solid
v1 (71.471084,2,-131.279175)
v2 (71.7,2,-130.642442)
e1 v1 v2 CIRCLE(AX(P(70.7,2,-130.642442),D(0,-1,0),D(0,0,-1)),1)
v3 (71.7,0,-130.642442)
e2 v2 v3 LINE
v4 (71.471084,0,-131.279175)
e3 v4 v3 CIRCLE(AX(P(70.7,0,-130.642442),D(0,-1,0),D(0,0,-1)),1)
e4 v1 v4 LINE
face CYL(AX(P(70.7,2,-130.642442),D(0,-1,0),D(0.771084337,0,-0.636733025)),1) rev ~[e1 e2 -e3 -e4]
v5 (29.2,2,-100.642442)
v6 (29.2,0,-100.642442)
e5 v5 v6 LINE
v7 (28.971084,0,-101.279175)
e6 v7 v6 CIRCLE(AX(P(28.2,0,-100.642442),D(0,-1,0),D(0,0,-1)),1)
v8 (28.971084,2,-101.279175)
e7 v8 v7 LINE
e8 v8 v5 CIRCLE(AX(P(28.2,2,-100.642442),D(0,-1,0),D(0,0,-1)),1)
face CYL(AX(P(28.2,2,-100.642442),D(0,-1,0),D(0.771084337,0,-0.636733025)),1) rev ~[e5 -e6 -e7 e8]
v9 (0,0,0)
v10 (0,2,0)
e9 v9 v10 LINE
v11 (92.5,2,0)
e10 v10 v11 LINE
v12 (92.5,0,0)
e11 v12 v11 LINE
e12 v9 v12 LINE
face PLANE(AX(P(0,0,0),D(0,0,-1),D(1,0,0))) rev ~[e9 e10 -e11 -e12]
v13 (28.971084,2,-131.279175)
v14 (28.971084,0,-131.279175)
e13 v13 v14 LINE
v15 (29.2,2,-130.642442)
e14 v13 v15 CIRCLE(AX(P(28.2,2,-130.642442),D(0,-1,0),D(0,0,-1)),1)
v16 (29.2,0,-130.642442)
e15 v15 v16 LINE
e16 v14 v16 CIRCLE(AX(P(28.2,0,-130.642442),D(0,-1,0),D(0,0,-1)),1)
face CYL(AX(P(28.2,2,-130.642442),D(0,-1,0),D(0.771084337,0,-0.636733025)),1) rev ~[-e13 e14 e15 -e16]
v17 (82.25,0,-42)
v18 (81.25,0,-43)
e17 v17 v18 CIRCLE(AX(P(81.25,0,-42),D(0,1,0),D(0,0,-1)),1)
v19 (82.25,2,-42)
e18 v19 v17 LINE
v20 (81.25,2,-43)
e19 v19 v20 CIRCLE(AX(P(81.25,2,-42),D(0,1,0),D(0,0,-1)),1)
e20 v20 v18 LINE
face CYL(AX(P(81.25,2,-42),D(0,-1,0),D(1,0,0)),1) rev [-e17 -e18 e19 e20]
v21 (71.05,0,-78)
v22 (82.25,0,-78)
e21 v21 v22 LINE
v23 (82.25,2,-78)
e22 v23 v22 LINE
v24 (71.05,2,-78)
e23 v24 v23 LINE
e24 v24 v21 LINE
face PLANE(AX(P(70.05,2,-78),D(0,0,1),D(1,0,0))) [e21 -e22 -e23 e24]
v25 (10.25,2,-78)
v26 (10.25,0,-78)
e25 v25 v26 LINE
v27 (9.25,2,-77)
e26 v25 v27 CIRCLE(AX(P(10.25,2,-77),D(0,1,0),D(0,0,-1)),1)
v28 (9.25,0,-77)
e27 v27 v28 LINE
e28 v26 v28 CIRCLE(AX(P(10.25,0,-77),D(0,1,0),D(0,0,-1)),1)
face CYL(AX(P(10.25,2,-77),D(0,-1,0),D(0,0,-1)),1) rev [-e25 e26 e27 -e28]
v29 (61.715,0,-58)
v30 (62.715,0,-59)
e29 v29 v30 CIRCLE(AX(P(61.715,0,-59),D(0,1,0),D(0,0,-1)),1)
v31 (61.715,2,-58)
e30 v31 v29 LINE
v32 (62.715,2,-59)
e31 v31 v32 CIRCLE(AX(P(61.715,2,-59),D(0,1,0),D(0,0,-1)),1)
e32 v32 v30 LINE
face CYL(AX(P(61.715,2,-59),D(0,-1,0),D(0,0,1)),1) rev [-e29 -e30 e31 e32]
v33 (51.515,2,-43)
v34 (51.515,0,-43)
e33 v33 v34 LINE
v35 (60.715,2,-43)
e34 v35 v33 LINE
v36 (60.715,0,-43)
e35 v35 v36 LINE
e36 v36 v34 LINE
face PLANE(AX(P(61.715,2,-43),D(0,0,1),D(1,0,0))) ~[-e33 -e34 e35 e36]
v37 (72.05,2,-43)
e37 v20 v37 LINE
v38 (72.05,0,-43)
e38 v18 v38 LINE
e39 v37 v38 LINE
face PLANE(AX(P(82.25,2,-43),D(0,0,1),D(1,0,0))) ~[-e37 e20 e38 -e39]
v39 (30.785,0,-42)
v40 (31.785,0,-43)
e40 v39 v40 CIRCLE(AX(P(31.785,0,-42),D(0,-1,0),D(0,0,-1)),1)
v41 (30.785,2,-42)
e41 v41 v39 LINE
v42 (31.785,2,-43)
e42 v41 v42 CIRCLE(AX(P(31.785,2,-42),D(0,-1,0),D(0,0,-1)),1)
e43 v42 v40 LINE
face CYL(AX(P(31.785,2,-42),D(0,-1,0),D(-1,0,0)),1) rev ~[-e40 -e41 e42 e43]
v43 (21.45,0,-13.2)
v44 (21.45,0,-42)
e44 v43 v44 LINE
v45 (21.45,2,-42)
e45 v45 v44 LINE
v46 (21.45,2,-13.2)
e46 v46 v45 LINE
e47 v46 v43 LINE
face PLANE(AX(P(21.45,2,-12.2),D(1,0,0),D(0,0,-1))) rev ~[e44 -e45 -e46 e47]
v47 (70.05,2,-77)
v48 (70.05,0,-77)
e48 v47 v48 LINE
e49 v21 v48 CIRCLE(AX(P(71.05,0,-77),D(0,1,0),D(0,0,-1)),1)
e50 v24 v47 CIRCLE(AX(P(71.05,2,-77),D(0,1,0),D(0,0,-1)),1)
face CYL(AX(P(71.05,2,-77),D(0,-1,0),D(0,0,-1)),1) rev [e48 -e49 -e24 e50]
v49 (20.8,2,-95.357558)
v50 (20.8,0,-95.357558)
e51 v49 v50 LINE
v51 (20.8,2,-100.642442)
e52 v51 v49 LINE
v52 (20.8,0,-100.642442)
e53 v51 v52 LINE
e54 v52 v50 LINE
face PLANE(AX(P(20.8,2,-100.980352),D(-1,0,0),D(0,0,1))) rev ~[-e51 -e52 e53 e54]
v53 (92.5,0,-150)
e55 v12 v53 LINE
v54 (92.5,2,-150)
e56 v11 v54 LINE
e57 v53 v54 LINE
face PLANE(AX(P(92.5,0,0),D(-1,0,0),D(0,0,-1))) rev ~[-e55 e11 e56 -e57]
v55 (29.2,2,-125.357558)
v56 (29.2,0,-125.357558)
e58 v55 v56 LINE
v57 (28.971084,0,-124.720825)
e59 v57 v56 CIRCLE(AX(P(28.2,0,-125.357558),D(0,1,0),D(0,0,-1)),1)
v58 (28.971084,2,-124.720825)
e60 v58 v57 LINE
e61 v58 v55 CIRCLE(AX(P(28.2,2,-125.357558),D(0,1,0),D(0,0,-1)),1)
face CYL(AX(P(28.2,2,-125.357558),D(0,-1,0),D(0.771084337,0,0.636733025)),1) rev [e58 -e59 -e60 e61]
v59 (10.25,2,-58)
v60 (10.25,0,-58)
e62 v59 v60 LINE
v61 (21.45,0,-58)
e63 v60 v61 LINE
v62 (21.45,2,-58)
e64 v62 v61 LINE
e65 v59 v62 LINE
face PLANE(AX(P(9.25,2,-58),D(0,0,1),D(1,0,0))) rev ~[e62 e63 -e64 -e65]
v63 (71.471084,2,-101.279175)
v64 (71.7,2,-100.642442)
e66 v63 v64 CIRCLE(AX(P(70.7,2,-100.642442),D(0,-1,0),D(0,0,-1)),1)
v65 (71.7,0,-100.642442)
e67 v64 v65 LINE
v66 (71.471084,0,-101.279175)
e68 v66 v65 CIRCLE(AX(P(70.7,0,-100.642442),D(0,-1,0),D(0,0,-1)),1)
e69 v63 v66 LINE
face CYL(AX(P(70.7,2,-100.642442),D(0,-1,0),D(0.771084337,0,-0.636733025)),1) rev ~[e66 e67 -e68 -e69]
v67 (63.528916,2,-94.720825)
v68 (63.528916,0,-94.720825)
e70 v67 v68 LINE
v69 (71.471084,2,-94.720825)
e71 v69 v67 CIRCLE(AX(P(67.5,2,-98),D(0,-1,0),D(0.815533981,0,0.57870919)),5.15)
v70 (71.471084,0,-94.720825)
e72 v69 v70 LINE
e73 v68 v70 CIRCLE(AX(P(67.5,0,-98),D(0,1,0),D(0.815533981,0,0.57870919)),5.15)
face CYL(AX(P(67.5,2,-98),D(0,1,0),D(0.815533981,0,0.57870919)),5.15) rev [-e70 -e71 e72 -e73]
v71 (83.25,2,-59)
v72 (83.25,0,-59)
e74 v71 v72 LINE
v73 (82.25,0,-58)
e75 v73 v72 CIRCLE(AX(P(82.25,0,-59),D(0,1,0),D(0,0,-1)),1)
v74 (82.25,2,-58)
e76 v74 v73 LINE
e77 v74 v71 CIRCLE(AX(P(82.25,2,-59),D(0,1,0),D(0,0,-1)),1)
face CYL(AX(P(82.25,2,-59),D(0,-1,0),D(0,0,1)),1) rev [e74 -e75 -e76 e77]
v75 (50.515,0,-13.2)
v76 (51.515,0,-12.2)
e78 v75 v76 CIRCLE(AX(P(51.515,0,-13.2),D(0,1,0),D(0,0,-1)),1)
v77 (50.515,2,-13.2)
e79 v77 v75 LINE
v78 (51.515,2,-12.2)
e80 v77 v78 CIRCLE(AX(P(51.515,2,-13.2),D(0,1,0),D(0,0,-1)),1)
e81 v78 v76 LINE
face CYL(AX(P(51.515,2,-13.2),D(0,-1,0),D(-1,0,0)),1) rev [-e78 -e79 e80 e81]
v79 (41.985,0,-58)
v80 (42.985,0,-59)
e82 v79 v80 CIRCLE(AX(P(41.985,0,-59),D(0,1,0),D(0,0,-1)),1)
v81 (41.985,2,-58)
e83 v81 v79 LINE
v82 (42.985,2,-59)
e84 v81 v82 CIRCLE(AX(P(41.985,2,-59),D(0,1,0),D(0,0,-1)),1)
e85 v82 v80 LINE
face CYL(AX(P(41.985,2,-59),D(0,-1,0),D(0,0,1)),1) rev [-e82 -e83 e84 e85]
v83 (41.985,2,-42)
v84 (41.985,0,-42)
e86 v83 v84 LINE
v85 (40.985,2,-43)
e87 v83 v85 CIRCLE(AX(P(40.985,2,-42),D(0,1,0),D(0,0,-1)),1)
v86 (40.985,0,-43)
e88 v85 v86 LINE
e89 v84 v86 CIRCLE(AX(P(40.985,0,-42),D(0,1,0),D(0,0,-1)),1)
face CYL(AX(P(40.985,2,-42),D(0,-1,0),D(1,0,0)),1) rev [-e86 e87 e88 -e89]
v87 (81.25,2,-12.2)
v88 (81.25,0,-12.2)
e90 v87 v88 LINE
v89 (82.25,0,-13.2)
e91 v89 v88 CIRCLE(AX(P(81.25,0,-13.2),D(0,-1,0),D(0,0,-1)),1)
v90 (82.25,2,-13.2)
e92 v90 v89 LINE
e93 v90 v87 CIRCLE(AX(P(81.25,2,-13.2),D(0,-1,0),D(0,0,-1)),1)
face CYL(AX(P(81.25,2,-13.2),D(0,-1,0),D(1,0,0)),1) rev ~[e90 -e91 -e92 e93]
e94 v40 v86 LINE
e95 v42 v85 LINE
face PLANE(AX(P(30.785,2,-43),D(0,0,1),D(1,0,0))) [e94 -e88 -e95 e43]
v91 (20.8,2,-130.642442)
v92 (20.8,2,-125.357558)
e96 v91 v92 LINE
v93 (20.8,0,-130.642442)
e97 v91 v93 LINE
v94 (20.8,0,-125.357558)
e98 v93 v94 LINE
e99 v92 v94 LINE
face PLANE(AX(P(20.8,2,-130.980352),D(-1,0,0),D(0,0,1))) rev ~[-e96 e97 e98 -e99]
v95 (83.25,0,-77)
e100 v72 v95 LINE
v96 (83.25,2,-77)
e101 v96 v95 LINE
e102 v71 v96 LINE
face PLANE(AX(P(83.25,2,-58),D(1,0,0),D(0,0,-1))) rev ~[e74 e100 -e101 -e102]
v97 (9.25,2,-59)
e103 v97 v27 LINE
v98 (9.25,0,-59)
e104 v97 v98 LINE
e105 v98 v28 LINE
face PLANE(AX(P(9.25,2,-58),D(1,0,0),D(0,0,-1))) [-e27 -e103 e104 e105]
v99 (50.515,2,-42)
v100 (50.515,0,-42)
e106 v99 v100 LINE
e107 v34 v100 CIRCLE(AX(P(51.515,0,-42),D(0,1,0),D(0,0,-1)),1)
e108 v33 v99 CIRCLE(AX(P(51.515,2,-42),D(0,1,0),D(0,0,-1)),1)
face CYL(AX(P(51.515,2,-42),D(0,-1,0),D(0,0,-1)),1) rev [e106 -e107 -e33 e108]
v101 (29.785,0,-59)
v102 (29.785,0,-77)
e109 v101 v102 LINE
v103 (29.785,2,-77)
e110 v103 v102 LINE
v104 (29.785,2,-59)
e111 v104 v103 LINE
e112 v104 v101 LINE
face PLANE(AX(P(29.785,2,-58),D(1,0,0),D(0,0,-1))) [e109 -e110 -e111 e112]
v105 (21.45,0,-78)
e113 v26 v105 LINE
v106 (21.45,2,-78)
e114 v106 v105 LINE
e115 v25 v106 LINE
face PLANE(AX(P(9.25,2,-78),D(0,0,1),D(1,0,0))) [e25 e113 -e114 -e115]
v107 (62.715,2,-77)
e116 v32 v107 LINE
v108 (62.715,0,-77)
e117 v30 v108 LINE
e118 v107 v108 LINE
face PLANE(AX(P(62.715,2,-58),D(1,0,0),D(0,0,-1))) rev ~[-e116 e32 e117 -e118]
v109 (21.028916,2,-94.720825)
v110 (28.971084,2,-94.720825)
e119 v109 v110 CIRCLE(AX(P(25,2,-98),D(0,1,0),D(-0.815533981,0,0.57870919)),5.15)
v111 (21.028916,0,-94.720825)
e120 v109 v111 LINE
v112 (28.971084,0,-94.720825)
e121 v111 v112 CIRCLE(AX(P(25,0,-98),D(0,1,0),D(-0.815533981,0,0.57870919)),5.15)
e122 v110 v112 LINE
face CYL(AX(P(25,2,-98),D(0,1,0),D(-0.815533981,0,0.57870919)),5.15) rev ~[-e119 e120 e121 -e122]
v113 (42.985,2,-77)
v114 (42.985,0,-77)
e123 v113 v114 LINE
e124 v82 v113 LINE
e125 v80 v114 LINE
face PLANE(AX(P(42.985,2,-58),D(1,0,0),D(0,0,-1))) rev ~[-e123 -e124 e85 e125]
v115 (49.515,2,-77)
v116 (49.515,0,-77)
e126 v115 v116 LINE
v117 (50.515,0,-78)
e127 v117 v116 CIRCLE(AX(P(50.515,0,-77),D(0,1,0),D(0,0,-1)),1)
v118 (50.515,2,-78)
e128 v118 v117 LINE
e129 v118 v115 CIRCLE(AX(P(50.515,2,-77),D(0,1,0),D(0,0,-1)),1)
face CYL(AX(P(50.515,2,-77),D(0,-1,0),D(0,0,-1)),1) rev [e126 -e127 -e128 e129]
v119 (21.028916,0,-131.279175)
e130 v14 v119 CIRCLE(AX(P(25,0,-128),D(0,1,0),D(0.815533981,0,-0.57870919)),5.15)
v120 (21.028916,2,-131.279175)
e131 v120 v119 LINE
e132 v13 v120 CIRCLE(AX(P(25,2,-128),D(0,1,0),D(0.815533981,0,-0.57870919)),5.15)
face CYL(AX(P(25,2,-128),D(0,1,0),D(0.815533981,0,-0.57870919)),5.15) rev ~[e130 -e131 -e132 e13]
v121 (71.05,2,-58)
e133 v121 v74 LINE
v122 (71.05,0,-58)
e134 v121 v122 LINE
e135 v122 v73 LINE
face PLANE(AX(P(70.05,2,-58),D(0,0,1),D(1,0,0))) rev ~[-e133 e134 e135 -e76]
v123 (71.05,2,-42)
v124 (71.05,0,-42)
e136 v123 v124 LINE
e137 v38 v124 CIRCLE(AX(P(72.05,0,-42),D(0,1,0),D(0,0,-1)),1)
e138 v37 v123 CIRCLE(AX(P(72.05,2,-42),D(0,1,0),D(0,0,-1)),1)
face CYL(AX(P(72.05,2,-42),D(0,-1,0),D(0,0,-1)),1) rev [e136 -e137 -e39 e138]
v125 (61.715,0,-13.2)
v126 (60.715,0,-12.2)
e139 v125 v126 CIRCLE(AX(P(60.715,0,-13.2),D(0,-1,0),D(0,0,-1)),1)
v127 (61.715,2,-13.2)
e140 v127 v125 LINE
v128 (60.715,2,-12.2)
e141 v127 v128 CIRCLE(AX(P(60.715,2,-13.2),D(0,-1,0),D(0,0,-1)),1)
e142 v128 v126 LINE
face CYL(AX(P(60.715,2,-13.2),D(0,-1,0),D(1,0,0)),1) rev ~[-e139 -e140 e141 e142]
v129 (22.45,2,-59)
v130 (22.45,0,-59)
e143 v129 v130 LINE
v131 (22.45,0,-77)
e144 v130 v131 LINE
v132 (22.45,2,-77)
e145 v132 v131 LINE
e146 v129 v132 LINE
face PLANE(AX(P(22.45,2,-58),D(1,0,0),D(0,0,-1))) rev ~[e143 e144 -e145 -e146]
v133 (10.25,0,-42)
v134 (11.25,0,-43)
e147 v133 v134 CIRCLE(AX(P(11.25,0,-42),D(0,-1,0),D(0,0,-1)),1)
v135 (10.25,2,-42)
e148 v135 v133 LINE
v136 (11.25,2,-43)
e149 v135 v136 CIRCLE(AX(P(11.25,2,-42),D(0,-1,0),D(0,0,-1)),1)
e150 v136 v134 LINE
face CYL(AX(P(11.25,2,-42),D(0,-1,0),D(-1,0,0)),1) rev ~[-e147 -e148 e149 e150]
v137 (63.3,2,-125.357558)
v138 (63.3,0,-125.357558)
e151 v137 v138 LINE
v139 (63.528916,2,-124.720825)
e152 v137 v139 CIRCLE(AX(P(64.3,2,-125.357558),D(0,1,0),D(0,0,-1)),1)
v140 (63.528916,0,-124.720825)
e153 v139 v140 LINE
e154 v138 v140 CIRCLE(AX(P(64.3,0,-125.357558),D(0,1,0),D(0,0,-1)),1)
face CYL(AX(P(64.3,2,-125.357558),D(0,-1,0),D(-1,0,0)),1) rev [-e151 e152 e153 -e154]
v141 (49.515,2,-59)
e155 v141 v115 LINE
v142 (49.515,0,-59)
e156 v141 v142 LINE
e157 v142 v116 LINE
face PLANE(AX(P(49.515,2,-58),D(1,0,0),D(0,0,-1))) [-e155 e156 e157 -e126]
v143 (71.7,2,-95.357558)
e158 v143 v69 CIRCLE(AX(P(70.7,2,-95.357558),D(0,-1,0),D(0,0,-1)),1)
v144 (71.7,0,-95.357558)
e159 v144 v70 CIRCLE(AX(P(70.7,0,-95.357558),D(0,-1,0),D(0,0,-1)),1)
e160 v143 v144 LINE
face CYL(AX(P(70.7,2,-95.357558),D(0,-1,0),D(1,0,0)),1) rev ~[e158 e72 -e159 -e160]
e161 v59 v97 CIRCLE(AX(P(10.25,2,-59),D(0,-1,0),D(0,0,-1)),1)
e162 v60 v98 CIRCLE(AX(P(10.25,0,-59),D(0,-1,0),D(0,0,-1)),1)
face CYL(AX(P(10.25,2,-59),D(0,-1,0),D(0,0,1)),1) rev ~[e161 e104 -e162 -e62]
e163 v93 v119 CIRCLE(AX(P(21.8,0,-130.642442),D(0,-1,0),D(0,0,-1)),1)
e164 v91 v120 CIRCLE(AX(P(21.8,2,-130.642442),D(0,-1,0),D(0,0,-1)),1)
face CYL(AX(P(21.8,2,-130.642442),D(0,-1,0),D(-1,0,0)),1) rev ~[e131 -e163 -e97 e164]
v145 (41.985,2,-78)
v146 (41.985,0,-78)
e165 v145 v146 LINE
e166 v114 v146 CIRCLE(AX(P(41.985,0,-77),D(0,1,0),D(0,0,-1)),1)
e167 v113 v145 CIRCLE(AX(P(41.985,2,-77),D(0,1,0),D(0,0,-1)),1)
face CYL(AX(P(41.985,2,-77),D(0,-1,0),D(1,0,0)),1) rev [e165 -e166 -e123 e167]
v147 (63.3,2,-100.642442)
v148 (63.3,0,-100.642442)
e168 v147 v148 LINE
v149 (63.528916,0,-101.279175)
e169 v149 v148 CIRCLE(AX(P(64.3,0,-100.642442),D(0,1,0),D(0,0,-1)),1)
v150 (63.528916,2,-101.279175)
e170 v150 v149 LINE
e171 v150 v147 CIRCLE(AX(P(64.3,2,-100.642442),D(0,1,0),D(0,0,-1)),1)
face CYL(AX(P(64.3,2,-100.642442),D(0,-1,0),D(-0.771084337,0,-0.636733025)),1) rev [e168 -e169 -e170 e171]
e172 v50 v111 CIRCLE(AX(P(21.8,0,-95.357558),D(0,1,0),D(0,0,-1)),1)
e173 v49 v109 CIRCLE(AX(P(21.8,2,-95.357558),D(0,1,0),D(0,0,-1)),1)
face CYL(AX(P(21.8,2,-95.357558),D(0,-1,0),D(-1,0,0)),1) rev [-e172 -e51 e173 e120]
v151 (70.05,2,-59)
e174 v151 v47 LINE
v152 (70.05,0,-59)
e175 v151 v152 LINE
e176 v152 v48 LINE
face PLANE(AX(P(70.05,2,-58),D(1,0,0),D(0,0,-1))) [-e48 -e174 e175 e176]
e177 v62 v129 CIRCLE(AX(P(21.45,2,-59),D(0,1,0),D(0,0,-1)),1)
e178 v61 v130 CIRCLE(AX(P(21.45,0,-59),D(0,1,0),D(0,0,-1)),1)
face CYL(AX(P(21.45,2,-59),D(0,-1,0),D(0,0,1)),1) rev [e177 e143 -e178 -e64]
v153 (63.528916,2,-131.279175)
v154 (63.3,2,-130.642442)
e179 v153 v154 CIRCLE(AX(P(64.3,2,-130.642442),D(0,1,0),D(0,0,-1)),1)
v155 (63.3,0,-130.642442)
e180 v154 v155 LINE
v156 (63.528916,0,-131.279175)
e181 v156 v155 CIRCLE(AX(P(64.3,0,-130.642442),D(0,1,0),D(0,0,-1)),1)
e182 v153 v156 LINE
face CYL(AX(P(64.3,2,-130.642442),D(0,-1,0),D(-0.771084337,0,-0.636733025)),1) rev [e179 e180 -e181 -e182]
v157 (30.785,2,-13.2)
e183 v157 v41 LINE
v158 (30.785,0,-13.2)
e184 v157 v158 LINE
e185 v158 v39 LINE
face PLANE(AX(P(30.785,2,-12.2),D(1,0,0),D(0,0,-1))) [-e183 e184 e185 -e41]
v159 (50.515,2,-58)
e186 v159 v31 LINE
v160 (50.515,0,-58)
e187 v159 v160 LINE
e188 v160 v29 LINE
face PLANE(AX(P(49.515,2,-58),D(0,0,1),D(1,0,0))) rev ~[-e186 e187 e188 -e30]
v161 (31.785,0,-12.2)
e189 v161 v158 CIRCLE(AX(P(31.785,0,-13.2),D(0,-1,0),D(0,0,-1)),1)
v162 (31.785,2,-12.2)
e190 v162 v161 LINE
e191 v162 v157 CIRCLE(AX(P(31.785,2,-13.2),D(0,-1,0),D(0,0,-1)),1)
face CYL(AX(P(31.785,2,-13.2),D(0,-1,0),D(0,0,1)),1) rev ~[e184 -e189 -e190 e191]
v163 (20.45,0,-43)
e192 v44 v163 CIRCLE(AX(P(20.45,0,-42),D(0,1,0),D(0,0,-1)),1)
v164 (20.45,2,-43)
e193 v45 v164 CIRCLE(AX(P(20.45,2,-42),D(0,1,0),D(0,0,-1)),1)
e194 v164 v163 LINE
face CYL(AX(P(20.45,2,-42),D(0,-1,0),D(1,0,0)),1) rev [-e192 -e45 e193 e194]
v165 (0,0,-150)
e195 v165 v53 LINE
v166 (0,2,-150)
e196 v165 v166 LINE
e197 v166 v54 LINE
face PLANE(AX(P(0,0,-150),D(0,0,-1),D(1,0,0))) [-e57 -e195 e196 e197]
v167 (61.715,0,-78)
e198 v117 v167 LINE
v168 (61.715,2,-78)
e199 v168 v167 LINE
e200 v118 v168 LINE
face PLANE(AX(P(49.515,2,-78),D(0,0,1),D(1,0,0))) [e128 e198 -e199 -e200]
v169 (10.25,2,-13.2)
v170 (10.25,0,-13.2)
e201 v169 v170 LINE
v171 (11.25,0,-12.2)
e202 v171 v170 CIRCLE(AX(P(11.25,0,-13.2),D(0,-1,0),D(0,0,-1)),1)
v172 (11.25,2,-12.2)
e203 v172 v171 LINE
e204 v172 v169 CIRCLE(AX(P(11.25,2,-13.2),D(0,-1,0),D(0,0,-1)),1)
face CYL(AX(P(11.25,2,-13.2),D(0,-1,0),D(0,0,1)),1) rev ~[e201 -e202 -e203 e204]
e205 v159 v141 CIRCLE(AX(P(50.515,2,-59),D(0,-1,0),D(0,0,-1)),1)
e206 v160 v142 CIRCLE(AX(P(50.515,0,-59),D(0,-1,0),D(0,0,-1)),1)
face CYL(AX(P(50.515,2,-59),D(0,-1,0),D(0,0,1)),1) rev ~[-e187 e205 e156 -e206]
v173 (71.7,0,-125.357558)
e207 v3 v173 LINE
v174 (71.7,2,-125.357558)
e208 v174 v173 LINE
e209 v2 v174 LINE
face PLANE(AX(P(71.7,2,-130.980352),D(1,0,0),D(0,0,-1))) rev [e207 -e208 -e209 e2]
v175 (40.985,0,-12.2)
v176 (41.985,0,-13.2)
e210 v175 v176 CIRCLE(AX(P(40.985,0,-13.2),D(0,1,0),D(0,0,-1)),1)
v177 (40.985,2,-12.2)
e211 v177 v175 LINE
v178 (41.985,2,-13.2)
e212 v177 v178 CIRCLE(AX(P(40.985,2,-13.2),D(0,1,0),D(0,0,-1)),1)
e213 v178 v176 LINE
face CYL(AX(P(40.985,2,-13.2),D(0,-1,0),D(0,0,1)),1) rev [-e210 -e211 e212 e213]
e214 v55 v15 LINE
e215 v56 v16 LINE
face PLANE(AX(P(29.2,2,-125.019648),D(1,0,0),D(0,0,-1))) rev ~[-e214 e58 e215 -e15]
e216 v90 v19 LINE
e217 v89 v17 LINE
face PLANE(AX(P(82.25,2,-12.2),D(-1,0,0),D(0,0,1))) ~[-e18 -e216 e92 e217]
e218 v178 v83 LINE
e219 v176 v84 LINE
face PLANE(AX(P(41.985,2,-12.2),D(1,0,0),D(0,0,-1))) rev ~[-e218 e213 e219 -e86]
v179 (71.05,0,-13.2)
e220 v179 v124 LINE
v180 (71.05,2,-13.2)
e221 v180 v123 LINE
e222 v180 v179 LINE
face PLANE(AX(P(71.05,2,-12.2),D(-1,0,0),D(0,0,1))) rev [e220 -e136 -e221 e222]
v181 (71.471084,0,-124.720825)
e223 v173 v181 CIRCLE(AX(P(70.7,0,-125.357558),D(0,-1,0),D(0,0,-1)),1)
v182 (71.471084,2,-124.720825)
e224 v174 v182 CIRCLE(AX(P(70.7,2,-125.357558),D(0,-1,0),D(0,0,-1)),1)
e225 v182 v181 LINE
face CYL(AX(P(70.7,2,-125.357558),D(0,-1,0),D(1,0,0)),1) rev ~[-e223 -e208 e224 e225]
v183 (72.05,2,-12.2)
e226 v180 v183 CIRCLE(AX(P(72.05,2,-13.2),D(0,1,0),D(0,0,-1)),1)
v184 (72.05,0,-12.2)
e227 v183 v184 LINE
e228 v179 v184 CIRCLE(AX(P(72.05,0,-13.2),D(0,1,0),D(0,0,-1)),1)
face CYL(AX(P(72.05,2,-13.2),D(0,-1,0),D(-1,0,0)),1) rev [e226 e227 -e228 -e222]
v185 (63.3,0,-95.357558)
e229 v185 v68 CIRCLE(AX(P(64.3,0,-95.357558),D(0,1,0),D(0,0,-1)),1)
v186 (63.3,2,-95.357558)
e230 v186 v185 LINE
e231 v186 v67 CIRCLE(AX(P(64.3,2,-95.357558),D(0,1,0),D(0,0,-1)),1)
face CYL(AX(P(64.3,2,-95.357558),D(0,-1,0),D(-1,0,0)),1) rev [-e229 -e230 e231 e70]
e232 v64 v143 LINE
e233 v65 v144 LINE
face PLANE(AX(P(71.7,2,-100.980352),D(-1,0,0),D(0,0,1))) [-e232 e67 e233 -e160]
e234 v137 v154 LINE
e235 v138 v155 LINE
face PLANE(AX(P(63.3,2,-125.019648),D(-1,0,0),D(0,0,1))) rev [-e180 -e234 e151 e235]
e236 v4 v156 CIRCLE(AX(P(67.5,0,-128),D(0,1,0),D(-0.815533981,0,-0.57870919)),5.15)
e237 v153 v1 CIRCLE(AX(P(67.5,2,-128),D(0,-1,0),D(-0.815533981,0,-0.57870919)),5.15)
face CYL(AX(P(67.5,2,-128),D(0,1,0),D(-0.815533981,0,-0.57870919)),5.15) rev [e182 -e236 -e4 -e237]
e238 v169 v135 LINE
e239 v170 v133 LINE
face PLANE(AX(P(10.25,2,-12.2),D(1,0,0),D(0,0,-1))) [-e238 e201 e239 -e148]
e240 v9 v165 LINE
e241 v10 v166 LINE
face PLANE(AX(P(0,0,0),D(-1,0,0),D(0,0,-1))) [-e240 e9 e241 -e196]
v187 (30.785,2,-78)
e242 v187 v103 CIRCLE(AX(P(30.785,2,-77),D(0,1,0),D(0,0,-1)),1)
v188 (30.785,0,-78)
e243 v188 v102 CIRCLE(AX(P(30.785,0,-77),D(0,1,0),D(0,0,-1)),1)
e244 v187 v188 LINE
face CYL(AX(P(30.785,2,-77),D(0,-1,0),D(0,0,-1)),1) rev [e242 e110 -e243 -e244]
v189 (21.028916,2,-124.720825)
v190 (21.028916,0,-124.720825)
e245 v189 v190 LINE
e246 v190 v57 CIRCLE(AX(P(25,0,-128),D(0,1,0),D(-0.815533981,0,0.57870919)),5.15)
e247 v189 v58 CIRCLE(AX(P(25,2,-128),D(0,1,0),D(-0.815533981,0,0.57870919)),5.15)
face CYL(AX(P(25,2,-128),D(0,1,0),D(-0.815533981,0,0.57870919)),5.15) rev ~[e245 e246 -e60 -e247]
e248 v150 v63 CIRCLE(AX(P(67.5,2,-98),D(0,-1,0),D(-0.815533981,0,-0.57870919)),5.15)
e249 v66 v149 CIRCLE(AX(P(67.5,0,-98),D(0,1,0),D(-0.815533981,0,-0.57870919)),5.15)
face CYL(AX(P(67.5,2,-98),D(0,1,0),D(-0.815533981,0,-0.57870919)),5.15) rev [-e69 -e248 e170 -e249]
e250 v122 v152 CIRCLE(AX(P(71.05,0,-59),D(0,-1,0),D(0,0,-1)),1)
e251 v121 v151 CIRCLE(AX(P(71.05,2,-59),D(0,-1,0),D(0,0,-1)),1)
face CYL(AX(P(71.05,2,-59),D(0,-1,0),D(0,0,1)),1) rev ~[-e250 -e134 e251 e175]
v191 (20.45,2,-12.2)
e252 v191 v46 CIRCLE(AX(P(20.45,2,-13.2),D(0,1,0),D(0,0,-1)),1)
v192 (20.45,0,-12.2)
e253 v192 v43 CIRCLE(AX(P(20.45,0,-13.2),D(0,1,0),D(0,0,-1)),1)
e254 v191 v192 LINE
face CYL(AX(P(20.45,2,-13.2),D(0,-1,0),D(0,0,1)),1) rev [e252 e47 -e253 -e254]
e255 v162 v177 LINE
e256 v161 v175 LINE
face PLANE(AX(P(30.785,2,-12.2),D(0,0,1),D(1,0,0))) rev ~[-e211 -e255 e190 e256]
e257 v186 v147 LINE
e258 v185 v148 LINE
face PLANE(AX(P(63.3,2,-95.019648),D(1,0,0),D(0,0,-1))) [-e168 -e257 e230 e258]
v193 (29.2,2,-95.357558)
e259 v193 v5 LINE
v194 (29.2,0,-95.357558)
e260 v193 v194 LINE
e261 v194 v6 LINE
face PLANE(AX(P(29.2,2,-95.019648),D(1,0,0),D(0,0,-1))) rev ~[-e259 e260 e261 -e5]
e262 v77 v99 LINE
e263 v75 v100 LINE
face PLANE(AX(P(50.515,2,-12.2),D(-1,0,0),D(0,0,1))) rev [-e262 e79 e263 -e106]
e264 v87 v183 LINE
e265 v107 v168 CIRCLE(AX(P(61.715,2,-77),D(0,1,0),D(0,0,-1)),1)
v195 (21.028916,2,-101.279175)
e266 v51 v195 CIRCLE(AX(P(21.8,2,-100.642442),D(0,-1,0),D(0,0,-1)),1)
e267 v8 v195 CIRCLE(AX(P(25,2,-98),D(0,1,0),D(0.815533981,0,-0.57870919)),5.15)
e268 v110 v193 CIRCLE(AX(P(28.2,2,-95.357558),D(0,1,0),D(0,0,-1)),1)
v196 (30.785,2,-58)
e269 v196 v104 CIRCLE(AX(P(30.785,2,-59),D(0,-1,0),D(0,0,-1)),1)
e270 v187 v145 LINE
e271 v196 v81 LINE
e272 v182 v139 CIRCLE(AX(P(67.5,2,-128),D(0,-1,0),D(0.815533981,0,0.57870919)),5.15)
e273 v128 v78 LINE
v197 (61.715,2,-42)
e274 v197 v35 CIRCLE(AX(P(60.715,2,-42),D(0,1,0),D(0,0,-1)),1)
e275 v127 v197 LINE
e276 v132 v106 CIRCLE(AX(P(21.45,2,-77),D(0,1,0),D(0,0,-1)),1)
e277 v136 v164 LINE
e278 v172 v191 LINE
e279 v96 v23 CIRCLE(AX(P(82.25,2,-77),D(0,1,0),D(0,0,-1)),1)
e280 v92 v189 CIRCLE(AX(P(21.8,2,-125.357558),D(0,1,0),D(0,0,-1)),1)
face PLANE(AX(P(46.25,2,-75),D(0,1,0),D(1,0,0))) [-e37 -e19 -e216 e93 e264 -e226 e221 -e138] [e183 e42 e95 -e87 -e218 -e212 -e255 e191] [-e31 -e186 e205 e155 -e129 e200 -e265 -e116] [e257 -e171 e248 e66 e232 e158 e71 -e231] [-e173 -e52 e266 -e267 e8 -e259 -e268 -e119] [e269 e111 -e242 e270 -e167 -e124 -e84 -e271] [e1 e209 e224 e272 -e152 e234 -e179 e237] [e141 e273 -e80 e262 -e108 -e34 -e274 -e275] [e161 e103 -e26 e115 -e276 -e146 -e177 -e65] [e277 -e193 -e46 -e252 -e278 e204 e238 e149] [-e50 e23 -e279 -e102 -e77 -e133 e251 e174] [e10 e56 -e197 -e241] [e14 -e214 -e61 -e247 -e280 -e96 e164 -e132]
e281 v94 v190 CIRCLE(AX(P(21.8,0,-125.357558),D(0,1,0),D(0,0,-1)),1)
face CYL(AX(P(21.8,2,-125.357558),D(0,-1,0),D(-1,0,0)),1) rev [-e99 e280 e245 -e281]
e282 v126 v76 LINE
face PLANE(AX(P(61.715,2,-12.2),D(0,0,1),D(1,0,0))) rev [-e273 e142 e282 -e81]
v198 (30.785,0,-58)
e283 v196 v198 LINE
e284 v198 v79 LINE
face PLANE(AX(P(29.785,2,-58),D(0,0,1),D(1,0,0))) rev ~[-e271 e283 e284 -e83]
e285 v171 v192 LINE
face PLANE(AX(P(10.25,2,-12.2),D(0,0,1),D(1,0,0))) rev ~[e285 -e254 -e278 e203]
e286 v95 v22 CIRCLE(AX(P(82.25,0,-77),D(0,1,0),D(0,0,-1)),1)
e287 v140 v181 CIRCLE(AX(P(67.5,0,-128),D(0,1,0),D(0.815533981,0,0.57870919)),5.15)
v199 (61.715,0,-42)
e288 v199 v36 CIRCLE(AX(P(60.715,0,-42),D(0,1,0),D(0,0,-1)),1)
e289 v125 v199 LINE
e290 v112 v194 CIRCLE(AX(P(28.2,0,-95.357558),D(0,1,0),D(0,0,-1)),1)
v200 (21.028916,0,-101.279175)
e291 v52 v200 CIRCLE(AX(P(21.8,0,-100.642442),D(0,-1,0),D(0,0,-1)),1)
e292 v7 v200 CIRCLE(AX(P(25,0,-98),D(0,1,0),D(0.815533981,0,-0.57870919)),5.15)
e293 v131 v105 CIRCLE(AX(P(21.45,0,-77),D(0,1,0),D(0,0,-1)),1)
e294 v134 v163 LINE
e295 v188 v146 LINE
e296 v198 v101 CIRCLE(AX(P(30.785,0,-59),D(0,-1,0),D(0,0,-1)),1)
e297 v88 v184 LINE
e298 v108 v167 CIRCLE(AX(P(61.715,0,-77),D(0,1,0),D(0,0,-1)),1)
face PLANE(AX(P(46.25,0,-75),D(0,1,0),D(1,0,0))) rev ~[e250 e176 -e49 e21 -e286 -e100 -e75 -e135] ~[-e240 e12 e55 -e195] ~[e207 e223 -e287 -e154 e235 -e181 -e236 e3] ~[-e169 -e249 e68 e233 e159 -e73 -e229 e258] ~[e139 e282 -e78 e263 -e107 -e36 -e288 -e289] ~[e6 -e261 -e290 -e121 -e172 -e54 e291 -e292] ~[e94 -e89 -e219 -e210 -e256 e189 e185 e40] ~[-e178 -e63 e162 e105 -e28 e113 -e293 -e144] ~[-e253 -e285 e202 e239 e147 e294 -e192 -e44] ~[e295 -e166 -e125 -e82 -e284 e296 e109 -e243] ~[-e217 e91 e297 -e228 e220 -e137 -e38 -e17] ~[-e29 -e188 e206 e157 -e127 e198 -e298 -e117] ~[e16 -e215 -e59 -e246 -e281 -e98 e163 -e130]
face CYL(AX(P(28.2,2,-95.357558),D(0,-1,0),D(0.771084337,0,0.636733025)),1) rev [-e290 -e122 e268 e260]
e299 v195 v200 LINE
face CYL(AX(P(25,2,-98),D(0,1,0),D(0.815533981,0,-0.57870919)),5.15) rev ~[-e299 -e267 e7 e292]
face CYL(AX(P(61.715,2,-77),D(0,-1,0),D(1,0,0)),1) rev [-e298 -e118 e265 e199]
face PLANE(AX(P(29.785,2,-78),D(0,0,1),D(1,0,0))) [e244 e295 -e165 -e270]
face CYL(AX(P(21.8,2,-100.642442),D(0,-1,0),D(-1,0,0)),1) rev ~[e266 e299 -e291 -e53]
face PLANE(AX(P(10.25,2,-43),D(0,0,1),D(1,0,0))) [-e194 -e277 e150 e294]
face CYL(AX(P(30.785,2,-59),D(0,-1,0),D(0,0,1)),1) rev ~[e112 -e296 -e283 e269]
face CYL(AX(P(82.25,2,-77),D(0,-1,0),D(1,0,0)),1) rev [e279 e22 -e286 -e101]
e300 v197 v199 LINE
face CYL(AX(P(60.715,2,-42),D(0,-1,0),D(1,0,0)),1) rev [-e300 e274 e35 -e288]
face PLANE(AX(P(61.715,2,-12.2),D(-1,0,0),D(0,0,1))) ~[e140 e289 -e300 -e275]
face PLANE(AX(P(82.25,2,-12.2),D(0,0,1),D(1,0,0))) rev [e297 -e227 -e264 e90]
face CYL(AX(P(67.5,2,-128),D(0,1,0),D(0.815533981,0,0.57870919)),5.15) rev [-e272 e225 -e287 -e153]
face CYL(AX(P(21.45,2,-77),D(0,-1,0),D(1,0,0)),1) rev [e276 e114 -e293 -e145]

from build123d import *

# Parameters (mm, degrees)
SKIZZE1_W                       = 92.5
SKIZZE1_H                       = 150
AUFSATZ_LINEAR_AUSTRAGEN1_DEPTH = 2
SCHNITT_LINEAR_AUSTRAGEN1_DEPTH = 177.239184065
LINEARES_MUSTER1_COUNT          = 2
LINEARES_MUSTER1_PITCH          = 30
SPIEGELN1_COPY_1_DEPTH          = 177.239184065
SKIZZE3_W                       = 13.2
SKIZZE3_H                       = 20
SCHNITT_LINEAR_AUSTRAGEN2_DEPTH = 177.239184065
VERRUNDUNG1_R                   = 1
VERRUNDUNG2_R                   = 1
SKIZZE4_W                       = 11.2
SKIZZE4_H                       = 30.8
SCHNITT_LINEAR_AUSTRAGEN3_DEPTH = 177.239184065
VERRUNDUNG3_R                   = 1


with BuildPart() as part:
    # Skizze1 → Aufsatz-Linear austragen1 (new body)
    with BuildSketch(Plane(origin=(0, 0, 0), x_dir=(1, 0, 0), z_dir=(0, 1, 0))):
        with Locations((46.25, 75)):
            Rectangle(SKIZZE1_W, SKIZZE1_H)
    extrude(amount=AUFSATZ_LINEAR_AUSTRAGEN1_DEPTH)

    # Skizze2 → Schnitt-Linear austragen1 (cut, through all)
    with BuildSketch(Plane(origin=(0, 2, 0), x_dir=(1, 0, 0), z_dir=(0, 1, 0))):
        with BuildLine():
            Line((20.8, 130.980352328), (20.8, 125.019647672))
            ThreePointArc((20.8, 125.019647672), (25, 122.85), (29.2, 125.019647672))
            Line((29.2, 125.019647672), (29.2, 130.980352328))
            ThreePointArc((29.2, 130.980352328), (25, 133.15), (20.8, 130.980352328))
        make_face()
    schnitt_linear_austragen1 = extrude(amount=-SCHNITT_LINEAR_AUSTRAGEN1_DEPTH, mode=Mode.SUBTRACT)

    # Lineares Muster1: Schnitt-Linear austragen1 ×2
    with Locations(*[(0, 0, i * LINEARES_MUSTER1_PITCH) for i in range(1, LINEARES_MUSTER1_COUNT)]):
        add(schnitt_linear_austragen1, mode=Mode.SUBTRACT)

    # Spiegeln1: Schnitt-Linear austragen1 across plane
    add(schnitt_linear_austragen1.mirror(Plane(origin=(46.25, 0, 0), x_dir=(0, 0, 1), z_dir=(1, 0, 0))), mode=Mode.SUBTRACT)

    # Spiegeln1 copy 1 sketch → Spiegeln1 copy 1 (cut, through all)
    with BuildSketch(Plane(origin=(92.5, 2, 30), x_dir=(-1, 0, 0), z_dir=(0, 1, 0))):
        with BuildLine():
            Line((20.8, -130.980352328), (20.8, -125.019647672))
            ThreePointArc((20.8, -125.019647672), (25, -122.85), (29.2, -125.019647672))
            Line((29.2, -125.019647672), (29.2, -130.980352328))
            ThreePointArc((29.2, -130.980352328), (25, -133.15), (20.8, -130.980352328))
        make_face()
    extrude(amount=-SPIEGELN1_COPY_1_DEPTH, mode=Mode.SUBTRACT)

    # Skizze3 → Schnitt-Linear austragen2 (cut, through all)
    with BuildSketch(Plane(origin=(0, 2, 0), x_dir=(1, 0, 0), z_dir=(0, 1, 0))):
        with Locations((15.85, 68)):
            Rectangle(SKIZZE3_W, SKIZZE3_H)
        with Locations((56.115, 68)):
            Rectangle(SKIZZE3_W, SKIZZE3_H)
        with Locations((36.385, 68)):
            Rectangle(SKIZZE3_W, SKIZZE3_H)
        with Locations((76.65, 68)):
            Rectangle(SKIZZE3_W, SKIZZE3_H)
    extrude(amount=-SCHNITT_LINEAR_AUSTRAGEN2_DEPTH, mode=Mode.SUBTRACT)

    # Verrundung1
    verrundung1_edges = [part.edges().sort_by_distance(p)[0] for p in [
        (29.785, 1, -58),
        (29.785, 1, -78),
        (42.985, 1, -78),
        (42.985, 1, -58),
        (62.715, 1, -58),
        (49.515, 1, -58),
        (49.515, 1, -78),
        (62.715, 1, -78),
        (83.25, 1, -58),
        (70.05, 1, -58),
        (70.05, 1, -78),
        (83.25, 1, -78),
        (9.25, 1, -58),
        (9.25, 1, -78),
        (22.45, 1, -78),
        (22.45, 1, -58),
    ]]
    fillet(verrundung1_edges, radius=VERRUNDUNG1_R)

    # Verrundung2
    verrundung2_edges = [part.edges().sort_by_distance(p)[0] for p in [
        (20.8, 1, -130.980352328),
        (29.2, 1, -130.980352328),
        (29.2, 1, -125.019647672),
        (20.8, 1, -125.019647672),
        (20.8, 1, -100.980352328),
        (29.2, 1, -100.980352328),
        (29.2, 1, -95.019647672),
        (20.8, 1, -95.019647672),
        (63.3, 1, -130.980352328),
        (71.7, 1, -130.980352328),
        (71.7, 1, -125.019647672),
        (63.3, 1, -125.019647672),
        (63.3, 1, -100.980352328),
        (71.7, 1, -100.980352328),
        (71.7, 1, -95.019647672),
        (63.3, 1, -95.019647672),
    ]]
    fillet(verrundung2_edges, radius=VERRUNDUNG2_R)

    # Skizze4 → Schnitt-Linear austragen3 (cut, through all)
    with BuildSketch(Plane(origin=(0, 2, 0), x_dir=(1, 0, 0), z_dir=(0, 1, 0))):
        with Locations((15.85, 27.6)):
            Rectangle(SKIZZE4_W, SKIZZE4_H)
        with Locations((36.385, 27.6)):
            Rectangle(SKIZZE4_W, SKIZZE4_H)
    schnitt_linear_austragen3 = extrude(amount=-SCHNITT_LINEAR_AUSTRAGEN3_DEPTH, mode=Mode.SUBTRACT)

    # Spiegeln2: Schnitt-Linear austragen3 across plane
    add(schnitt_linear_austragen3.mirror(Plane(origin=(46.25, 0, 0), x_dir=(0, 0, 1), z_dir=(1, 0, 0))), mode=Mode.SUBTRACT)

    # Verrundung3
    verrundung3_edges = [part.edges().sort_by_distance(p)[0] for p in [
        (10.25, 1, -12.2),
        (10.25, 1, -43),
        (21.45, 1, -43),
        (21.45, 1, -12.2),
        (30.785, 1, -12.2),
        (30.785, 1, -43),
        (41.985, 1, -43),
        (41.985, 1, -12.2),
        (82.25, 1, -43),
        (82.25, 1, -12.2),
        (71.05, 1, -12.2),
        (71.05, 1, -43),
        (61.715, 1, -43),
        (61.715, 1, -12.2),
        (50.515, 1, -12.2),
        (50.515, 1, -43),
    ]]
    fillet(verrundung3_edges, radius=VERRUNDUNG3_R)


solid = part.part
